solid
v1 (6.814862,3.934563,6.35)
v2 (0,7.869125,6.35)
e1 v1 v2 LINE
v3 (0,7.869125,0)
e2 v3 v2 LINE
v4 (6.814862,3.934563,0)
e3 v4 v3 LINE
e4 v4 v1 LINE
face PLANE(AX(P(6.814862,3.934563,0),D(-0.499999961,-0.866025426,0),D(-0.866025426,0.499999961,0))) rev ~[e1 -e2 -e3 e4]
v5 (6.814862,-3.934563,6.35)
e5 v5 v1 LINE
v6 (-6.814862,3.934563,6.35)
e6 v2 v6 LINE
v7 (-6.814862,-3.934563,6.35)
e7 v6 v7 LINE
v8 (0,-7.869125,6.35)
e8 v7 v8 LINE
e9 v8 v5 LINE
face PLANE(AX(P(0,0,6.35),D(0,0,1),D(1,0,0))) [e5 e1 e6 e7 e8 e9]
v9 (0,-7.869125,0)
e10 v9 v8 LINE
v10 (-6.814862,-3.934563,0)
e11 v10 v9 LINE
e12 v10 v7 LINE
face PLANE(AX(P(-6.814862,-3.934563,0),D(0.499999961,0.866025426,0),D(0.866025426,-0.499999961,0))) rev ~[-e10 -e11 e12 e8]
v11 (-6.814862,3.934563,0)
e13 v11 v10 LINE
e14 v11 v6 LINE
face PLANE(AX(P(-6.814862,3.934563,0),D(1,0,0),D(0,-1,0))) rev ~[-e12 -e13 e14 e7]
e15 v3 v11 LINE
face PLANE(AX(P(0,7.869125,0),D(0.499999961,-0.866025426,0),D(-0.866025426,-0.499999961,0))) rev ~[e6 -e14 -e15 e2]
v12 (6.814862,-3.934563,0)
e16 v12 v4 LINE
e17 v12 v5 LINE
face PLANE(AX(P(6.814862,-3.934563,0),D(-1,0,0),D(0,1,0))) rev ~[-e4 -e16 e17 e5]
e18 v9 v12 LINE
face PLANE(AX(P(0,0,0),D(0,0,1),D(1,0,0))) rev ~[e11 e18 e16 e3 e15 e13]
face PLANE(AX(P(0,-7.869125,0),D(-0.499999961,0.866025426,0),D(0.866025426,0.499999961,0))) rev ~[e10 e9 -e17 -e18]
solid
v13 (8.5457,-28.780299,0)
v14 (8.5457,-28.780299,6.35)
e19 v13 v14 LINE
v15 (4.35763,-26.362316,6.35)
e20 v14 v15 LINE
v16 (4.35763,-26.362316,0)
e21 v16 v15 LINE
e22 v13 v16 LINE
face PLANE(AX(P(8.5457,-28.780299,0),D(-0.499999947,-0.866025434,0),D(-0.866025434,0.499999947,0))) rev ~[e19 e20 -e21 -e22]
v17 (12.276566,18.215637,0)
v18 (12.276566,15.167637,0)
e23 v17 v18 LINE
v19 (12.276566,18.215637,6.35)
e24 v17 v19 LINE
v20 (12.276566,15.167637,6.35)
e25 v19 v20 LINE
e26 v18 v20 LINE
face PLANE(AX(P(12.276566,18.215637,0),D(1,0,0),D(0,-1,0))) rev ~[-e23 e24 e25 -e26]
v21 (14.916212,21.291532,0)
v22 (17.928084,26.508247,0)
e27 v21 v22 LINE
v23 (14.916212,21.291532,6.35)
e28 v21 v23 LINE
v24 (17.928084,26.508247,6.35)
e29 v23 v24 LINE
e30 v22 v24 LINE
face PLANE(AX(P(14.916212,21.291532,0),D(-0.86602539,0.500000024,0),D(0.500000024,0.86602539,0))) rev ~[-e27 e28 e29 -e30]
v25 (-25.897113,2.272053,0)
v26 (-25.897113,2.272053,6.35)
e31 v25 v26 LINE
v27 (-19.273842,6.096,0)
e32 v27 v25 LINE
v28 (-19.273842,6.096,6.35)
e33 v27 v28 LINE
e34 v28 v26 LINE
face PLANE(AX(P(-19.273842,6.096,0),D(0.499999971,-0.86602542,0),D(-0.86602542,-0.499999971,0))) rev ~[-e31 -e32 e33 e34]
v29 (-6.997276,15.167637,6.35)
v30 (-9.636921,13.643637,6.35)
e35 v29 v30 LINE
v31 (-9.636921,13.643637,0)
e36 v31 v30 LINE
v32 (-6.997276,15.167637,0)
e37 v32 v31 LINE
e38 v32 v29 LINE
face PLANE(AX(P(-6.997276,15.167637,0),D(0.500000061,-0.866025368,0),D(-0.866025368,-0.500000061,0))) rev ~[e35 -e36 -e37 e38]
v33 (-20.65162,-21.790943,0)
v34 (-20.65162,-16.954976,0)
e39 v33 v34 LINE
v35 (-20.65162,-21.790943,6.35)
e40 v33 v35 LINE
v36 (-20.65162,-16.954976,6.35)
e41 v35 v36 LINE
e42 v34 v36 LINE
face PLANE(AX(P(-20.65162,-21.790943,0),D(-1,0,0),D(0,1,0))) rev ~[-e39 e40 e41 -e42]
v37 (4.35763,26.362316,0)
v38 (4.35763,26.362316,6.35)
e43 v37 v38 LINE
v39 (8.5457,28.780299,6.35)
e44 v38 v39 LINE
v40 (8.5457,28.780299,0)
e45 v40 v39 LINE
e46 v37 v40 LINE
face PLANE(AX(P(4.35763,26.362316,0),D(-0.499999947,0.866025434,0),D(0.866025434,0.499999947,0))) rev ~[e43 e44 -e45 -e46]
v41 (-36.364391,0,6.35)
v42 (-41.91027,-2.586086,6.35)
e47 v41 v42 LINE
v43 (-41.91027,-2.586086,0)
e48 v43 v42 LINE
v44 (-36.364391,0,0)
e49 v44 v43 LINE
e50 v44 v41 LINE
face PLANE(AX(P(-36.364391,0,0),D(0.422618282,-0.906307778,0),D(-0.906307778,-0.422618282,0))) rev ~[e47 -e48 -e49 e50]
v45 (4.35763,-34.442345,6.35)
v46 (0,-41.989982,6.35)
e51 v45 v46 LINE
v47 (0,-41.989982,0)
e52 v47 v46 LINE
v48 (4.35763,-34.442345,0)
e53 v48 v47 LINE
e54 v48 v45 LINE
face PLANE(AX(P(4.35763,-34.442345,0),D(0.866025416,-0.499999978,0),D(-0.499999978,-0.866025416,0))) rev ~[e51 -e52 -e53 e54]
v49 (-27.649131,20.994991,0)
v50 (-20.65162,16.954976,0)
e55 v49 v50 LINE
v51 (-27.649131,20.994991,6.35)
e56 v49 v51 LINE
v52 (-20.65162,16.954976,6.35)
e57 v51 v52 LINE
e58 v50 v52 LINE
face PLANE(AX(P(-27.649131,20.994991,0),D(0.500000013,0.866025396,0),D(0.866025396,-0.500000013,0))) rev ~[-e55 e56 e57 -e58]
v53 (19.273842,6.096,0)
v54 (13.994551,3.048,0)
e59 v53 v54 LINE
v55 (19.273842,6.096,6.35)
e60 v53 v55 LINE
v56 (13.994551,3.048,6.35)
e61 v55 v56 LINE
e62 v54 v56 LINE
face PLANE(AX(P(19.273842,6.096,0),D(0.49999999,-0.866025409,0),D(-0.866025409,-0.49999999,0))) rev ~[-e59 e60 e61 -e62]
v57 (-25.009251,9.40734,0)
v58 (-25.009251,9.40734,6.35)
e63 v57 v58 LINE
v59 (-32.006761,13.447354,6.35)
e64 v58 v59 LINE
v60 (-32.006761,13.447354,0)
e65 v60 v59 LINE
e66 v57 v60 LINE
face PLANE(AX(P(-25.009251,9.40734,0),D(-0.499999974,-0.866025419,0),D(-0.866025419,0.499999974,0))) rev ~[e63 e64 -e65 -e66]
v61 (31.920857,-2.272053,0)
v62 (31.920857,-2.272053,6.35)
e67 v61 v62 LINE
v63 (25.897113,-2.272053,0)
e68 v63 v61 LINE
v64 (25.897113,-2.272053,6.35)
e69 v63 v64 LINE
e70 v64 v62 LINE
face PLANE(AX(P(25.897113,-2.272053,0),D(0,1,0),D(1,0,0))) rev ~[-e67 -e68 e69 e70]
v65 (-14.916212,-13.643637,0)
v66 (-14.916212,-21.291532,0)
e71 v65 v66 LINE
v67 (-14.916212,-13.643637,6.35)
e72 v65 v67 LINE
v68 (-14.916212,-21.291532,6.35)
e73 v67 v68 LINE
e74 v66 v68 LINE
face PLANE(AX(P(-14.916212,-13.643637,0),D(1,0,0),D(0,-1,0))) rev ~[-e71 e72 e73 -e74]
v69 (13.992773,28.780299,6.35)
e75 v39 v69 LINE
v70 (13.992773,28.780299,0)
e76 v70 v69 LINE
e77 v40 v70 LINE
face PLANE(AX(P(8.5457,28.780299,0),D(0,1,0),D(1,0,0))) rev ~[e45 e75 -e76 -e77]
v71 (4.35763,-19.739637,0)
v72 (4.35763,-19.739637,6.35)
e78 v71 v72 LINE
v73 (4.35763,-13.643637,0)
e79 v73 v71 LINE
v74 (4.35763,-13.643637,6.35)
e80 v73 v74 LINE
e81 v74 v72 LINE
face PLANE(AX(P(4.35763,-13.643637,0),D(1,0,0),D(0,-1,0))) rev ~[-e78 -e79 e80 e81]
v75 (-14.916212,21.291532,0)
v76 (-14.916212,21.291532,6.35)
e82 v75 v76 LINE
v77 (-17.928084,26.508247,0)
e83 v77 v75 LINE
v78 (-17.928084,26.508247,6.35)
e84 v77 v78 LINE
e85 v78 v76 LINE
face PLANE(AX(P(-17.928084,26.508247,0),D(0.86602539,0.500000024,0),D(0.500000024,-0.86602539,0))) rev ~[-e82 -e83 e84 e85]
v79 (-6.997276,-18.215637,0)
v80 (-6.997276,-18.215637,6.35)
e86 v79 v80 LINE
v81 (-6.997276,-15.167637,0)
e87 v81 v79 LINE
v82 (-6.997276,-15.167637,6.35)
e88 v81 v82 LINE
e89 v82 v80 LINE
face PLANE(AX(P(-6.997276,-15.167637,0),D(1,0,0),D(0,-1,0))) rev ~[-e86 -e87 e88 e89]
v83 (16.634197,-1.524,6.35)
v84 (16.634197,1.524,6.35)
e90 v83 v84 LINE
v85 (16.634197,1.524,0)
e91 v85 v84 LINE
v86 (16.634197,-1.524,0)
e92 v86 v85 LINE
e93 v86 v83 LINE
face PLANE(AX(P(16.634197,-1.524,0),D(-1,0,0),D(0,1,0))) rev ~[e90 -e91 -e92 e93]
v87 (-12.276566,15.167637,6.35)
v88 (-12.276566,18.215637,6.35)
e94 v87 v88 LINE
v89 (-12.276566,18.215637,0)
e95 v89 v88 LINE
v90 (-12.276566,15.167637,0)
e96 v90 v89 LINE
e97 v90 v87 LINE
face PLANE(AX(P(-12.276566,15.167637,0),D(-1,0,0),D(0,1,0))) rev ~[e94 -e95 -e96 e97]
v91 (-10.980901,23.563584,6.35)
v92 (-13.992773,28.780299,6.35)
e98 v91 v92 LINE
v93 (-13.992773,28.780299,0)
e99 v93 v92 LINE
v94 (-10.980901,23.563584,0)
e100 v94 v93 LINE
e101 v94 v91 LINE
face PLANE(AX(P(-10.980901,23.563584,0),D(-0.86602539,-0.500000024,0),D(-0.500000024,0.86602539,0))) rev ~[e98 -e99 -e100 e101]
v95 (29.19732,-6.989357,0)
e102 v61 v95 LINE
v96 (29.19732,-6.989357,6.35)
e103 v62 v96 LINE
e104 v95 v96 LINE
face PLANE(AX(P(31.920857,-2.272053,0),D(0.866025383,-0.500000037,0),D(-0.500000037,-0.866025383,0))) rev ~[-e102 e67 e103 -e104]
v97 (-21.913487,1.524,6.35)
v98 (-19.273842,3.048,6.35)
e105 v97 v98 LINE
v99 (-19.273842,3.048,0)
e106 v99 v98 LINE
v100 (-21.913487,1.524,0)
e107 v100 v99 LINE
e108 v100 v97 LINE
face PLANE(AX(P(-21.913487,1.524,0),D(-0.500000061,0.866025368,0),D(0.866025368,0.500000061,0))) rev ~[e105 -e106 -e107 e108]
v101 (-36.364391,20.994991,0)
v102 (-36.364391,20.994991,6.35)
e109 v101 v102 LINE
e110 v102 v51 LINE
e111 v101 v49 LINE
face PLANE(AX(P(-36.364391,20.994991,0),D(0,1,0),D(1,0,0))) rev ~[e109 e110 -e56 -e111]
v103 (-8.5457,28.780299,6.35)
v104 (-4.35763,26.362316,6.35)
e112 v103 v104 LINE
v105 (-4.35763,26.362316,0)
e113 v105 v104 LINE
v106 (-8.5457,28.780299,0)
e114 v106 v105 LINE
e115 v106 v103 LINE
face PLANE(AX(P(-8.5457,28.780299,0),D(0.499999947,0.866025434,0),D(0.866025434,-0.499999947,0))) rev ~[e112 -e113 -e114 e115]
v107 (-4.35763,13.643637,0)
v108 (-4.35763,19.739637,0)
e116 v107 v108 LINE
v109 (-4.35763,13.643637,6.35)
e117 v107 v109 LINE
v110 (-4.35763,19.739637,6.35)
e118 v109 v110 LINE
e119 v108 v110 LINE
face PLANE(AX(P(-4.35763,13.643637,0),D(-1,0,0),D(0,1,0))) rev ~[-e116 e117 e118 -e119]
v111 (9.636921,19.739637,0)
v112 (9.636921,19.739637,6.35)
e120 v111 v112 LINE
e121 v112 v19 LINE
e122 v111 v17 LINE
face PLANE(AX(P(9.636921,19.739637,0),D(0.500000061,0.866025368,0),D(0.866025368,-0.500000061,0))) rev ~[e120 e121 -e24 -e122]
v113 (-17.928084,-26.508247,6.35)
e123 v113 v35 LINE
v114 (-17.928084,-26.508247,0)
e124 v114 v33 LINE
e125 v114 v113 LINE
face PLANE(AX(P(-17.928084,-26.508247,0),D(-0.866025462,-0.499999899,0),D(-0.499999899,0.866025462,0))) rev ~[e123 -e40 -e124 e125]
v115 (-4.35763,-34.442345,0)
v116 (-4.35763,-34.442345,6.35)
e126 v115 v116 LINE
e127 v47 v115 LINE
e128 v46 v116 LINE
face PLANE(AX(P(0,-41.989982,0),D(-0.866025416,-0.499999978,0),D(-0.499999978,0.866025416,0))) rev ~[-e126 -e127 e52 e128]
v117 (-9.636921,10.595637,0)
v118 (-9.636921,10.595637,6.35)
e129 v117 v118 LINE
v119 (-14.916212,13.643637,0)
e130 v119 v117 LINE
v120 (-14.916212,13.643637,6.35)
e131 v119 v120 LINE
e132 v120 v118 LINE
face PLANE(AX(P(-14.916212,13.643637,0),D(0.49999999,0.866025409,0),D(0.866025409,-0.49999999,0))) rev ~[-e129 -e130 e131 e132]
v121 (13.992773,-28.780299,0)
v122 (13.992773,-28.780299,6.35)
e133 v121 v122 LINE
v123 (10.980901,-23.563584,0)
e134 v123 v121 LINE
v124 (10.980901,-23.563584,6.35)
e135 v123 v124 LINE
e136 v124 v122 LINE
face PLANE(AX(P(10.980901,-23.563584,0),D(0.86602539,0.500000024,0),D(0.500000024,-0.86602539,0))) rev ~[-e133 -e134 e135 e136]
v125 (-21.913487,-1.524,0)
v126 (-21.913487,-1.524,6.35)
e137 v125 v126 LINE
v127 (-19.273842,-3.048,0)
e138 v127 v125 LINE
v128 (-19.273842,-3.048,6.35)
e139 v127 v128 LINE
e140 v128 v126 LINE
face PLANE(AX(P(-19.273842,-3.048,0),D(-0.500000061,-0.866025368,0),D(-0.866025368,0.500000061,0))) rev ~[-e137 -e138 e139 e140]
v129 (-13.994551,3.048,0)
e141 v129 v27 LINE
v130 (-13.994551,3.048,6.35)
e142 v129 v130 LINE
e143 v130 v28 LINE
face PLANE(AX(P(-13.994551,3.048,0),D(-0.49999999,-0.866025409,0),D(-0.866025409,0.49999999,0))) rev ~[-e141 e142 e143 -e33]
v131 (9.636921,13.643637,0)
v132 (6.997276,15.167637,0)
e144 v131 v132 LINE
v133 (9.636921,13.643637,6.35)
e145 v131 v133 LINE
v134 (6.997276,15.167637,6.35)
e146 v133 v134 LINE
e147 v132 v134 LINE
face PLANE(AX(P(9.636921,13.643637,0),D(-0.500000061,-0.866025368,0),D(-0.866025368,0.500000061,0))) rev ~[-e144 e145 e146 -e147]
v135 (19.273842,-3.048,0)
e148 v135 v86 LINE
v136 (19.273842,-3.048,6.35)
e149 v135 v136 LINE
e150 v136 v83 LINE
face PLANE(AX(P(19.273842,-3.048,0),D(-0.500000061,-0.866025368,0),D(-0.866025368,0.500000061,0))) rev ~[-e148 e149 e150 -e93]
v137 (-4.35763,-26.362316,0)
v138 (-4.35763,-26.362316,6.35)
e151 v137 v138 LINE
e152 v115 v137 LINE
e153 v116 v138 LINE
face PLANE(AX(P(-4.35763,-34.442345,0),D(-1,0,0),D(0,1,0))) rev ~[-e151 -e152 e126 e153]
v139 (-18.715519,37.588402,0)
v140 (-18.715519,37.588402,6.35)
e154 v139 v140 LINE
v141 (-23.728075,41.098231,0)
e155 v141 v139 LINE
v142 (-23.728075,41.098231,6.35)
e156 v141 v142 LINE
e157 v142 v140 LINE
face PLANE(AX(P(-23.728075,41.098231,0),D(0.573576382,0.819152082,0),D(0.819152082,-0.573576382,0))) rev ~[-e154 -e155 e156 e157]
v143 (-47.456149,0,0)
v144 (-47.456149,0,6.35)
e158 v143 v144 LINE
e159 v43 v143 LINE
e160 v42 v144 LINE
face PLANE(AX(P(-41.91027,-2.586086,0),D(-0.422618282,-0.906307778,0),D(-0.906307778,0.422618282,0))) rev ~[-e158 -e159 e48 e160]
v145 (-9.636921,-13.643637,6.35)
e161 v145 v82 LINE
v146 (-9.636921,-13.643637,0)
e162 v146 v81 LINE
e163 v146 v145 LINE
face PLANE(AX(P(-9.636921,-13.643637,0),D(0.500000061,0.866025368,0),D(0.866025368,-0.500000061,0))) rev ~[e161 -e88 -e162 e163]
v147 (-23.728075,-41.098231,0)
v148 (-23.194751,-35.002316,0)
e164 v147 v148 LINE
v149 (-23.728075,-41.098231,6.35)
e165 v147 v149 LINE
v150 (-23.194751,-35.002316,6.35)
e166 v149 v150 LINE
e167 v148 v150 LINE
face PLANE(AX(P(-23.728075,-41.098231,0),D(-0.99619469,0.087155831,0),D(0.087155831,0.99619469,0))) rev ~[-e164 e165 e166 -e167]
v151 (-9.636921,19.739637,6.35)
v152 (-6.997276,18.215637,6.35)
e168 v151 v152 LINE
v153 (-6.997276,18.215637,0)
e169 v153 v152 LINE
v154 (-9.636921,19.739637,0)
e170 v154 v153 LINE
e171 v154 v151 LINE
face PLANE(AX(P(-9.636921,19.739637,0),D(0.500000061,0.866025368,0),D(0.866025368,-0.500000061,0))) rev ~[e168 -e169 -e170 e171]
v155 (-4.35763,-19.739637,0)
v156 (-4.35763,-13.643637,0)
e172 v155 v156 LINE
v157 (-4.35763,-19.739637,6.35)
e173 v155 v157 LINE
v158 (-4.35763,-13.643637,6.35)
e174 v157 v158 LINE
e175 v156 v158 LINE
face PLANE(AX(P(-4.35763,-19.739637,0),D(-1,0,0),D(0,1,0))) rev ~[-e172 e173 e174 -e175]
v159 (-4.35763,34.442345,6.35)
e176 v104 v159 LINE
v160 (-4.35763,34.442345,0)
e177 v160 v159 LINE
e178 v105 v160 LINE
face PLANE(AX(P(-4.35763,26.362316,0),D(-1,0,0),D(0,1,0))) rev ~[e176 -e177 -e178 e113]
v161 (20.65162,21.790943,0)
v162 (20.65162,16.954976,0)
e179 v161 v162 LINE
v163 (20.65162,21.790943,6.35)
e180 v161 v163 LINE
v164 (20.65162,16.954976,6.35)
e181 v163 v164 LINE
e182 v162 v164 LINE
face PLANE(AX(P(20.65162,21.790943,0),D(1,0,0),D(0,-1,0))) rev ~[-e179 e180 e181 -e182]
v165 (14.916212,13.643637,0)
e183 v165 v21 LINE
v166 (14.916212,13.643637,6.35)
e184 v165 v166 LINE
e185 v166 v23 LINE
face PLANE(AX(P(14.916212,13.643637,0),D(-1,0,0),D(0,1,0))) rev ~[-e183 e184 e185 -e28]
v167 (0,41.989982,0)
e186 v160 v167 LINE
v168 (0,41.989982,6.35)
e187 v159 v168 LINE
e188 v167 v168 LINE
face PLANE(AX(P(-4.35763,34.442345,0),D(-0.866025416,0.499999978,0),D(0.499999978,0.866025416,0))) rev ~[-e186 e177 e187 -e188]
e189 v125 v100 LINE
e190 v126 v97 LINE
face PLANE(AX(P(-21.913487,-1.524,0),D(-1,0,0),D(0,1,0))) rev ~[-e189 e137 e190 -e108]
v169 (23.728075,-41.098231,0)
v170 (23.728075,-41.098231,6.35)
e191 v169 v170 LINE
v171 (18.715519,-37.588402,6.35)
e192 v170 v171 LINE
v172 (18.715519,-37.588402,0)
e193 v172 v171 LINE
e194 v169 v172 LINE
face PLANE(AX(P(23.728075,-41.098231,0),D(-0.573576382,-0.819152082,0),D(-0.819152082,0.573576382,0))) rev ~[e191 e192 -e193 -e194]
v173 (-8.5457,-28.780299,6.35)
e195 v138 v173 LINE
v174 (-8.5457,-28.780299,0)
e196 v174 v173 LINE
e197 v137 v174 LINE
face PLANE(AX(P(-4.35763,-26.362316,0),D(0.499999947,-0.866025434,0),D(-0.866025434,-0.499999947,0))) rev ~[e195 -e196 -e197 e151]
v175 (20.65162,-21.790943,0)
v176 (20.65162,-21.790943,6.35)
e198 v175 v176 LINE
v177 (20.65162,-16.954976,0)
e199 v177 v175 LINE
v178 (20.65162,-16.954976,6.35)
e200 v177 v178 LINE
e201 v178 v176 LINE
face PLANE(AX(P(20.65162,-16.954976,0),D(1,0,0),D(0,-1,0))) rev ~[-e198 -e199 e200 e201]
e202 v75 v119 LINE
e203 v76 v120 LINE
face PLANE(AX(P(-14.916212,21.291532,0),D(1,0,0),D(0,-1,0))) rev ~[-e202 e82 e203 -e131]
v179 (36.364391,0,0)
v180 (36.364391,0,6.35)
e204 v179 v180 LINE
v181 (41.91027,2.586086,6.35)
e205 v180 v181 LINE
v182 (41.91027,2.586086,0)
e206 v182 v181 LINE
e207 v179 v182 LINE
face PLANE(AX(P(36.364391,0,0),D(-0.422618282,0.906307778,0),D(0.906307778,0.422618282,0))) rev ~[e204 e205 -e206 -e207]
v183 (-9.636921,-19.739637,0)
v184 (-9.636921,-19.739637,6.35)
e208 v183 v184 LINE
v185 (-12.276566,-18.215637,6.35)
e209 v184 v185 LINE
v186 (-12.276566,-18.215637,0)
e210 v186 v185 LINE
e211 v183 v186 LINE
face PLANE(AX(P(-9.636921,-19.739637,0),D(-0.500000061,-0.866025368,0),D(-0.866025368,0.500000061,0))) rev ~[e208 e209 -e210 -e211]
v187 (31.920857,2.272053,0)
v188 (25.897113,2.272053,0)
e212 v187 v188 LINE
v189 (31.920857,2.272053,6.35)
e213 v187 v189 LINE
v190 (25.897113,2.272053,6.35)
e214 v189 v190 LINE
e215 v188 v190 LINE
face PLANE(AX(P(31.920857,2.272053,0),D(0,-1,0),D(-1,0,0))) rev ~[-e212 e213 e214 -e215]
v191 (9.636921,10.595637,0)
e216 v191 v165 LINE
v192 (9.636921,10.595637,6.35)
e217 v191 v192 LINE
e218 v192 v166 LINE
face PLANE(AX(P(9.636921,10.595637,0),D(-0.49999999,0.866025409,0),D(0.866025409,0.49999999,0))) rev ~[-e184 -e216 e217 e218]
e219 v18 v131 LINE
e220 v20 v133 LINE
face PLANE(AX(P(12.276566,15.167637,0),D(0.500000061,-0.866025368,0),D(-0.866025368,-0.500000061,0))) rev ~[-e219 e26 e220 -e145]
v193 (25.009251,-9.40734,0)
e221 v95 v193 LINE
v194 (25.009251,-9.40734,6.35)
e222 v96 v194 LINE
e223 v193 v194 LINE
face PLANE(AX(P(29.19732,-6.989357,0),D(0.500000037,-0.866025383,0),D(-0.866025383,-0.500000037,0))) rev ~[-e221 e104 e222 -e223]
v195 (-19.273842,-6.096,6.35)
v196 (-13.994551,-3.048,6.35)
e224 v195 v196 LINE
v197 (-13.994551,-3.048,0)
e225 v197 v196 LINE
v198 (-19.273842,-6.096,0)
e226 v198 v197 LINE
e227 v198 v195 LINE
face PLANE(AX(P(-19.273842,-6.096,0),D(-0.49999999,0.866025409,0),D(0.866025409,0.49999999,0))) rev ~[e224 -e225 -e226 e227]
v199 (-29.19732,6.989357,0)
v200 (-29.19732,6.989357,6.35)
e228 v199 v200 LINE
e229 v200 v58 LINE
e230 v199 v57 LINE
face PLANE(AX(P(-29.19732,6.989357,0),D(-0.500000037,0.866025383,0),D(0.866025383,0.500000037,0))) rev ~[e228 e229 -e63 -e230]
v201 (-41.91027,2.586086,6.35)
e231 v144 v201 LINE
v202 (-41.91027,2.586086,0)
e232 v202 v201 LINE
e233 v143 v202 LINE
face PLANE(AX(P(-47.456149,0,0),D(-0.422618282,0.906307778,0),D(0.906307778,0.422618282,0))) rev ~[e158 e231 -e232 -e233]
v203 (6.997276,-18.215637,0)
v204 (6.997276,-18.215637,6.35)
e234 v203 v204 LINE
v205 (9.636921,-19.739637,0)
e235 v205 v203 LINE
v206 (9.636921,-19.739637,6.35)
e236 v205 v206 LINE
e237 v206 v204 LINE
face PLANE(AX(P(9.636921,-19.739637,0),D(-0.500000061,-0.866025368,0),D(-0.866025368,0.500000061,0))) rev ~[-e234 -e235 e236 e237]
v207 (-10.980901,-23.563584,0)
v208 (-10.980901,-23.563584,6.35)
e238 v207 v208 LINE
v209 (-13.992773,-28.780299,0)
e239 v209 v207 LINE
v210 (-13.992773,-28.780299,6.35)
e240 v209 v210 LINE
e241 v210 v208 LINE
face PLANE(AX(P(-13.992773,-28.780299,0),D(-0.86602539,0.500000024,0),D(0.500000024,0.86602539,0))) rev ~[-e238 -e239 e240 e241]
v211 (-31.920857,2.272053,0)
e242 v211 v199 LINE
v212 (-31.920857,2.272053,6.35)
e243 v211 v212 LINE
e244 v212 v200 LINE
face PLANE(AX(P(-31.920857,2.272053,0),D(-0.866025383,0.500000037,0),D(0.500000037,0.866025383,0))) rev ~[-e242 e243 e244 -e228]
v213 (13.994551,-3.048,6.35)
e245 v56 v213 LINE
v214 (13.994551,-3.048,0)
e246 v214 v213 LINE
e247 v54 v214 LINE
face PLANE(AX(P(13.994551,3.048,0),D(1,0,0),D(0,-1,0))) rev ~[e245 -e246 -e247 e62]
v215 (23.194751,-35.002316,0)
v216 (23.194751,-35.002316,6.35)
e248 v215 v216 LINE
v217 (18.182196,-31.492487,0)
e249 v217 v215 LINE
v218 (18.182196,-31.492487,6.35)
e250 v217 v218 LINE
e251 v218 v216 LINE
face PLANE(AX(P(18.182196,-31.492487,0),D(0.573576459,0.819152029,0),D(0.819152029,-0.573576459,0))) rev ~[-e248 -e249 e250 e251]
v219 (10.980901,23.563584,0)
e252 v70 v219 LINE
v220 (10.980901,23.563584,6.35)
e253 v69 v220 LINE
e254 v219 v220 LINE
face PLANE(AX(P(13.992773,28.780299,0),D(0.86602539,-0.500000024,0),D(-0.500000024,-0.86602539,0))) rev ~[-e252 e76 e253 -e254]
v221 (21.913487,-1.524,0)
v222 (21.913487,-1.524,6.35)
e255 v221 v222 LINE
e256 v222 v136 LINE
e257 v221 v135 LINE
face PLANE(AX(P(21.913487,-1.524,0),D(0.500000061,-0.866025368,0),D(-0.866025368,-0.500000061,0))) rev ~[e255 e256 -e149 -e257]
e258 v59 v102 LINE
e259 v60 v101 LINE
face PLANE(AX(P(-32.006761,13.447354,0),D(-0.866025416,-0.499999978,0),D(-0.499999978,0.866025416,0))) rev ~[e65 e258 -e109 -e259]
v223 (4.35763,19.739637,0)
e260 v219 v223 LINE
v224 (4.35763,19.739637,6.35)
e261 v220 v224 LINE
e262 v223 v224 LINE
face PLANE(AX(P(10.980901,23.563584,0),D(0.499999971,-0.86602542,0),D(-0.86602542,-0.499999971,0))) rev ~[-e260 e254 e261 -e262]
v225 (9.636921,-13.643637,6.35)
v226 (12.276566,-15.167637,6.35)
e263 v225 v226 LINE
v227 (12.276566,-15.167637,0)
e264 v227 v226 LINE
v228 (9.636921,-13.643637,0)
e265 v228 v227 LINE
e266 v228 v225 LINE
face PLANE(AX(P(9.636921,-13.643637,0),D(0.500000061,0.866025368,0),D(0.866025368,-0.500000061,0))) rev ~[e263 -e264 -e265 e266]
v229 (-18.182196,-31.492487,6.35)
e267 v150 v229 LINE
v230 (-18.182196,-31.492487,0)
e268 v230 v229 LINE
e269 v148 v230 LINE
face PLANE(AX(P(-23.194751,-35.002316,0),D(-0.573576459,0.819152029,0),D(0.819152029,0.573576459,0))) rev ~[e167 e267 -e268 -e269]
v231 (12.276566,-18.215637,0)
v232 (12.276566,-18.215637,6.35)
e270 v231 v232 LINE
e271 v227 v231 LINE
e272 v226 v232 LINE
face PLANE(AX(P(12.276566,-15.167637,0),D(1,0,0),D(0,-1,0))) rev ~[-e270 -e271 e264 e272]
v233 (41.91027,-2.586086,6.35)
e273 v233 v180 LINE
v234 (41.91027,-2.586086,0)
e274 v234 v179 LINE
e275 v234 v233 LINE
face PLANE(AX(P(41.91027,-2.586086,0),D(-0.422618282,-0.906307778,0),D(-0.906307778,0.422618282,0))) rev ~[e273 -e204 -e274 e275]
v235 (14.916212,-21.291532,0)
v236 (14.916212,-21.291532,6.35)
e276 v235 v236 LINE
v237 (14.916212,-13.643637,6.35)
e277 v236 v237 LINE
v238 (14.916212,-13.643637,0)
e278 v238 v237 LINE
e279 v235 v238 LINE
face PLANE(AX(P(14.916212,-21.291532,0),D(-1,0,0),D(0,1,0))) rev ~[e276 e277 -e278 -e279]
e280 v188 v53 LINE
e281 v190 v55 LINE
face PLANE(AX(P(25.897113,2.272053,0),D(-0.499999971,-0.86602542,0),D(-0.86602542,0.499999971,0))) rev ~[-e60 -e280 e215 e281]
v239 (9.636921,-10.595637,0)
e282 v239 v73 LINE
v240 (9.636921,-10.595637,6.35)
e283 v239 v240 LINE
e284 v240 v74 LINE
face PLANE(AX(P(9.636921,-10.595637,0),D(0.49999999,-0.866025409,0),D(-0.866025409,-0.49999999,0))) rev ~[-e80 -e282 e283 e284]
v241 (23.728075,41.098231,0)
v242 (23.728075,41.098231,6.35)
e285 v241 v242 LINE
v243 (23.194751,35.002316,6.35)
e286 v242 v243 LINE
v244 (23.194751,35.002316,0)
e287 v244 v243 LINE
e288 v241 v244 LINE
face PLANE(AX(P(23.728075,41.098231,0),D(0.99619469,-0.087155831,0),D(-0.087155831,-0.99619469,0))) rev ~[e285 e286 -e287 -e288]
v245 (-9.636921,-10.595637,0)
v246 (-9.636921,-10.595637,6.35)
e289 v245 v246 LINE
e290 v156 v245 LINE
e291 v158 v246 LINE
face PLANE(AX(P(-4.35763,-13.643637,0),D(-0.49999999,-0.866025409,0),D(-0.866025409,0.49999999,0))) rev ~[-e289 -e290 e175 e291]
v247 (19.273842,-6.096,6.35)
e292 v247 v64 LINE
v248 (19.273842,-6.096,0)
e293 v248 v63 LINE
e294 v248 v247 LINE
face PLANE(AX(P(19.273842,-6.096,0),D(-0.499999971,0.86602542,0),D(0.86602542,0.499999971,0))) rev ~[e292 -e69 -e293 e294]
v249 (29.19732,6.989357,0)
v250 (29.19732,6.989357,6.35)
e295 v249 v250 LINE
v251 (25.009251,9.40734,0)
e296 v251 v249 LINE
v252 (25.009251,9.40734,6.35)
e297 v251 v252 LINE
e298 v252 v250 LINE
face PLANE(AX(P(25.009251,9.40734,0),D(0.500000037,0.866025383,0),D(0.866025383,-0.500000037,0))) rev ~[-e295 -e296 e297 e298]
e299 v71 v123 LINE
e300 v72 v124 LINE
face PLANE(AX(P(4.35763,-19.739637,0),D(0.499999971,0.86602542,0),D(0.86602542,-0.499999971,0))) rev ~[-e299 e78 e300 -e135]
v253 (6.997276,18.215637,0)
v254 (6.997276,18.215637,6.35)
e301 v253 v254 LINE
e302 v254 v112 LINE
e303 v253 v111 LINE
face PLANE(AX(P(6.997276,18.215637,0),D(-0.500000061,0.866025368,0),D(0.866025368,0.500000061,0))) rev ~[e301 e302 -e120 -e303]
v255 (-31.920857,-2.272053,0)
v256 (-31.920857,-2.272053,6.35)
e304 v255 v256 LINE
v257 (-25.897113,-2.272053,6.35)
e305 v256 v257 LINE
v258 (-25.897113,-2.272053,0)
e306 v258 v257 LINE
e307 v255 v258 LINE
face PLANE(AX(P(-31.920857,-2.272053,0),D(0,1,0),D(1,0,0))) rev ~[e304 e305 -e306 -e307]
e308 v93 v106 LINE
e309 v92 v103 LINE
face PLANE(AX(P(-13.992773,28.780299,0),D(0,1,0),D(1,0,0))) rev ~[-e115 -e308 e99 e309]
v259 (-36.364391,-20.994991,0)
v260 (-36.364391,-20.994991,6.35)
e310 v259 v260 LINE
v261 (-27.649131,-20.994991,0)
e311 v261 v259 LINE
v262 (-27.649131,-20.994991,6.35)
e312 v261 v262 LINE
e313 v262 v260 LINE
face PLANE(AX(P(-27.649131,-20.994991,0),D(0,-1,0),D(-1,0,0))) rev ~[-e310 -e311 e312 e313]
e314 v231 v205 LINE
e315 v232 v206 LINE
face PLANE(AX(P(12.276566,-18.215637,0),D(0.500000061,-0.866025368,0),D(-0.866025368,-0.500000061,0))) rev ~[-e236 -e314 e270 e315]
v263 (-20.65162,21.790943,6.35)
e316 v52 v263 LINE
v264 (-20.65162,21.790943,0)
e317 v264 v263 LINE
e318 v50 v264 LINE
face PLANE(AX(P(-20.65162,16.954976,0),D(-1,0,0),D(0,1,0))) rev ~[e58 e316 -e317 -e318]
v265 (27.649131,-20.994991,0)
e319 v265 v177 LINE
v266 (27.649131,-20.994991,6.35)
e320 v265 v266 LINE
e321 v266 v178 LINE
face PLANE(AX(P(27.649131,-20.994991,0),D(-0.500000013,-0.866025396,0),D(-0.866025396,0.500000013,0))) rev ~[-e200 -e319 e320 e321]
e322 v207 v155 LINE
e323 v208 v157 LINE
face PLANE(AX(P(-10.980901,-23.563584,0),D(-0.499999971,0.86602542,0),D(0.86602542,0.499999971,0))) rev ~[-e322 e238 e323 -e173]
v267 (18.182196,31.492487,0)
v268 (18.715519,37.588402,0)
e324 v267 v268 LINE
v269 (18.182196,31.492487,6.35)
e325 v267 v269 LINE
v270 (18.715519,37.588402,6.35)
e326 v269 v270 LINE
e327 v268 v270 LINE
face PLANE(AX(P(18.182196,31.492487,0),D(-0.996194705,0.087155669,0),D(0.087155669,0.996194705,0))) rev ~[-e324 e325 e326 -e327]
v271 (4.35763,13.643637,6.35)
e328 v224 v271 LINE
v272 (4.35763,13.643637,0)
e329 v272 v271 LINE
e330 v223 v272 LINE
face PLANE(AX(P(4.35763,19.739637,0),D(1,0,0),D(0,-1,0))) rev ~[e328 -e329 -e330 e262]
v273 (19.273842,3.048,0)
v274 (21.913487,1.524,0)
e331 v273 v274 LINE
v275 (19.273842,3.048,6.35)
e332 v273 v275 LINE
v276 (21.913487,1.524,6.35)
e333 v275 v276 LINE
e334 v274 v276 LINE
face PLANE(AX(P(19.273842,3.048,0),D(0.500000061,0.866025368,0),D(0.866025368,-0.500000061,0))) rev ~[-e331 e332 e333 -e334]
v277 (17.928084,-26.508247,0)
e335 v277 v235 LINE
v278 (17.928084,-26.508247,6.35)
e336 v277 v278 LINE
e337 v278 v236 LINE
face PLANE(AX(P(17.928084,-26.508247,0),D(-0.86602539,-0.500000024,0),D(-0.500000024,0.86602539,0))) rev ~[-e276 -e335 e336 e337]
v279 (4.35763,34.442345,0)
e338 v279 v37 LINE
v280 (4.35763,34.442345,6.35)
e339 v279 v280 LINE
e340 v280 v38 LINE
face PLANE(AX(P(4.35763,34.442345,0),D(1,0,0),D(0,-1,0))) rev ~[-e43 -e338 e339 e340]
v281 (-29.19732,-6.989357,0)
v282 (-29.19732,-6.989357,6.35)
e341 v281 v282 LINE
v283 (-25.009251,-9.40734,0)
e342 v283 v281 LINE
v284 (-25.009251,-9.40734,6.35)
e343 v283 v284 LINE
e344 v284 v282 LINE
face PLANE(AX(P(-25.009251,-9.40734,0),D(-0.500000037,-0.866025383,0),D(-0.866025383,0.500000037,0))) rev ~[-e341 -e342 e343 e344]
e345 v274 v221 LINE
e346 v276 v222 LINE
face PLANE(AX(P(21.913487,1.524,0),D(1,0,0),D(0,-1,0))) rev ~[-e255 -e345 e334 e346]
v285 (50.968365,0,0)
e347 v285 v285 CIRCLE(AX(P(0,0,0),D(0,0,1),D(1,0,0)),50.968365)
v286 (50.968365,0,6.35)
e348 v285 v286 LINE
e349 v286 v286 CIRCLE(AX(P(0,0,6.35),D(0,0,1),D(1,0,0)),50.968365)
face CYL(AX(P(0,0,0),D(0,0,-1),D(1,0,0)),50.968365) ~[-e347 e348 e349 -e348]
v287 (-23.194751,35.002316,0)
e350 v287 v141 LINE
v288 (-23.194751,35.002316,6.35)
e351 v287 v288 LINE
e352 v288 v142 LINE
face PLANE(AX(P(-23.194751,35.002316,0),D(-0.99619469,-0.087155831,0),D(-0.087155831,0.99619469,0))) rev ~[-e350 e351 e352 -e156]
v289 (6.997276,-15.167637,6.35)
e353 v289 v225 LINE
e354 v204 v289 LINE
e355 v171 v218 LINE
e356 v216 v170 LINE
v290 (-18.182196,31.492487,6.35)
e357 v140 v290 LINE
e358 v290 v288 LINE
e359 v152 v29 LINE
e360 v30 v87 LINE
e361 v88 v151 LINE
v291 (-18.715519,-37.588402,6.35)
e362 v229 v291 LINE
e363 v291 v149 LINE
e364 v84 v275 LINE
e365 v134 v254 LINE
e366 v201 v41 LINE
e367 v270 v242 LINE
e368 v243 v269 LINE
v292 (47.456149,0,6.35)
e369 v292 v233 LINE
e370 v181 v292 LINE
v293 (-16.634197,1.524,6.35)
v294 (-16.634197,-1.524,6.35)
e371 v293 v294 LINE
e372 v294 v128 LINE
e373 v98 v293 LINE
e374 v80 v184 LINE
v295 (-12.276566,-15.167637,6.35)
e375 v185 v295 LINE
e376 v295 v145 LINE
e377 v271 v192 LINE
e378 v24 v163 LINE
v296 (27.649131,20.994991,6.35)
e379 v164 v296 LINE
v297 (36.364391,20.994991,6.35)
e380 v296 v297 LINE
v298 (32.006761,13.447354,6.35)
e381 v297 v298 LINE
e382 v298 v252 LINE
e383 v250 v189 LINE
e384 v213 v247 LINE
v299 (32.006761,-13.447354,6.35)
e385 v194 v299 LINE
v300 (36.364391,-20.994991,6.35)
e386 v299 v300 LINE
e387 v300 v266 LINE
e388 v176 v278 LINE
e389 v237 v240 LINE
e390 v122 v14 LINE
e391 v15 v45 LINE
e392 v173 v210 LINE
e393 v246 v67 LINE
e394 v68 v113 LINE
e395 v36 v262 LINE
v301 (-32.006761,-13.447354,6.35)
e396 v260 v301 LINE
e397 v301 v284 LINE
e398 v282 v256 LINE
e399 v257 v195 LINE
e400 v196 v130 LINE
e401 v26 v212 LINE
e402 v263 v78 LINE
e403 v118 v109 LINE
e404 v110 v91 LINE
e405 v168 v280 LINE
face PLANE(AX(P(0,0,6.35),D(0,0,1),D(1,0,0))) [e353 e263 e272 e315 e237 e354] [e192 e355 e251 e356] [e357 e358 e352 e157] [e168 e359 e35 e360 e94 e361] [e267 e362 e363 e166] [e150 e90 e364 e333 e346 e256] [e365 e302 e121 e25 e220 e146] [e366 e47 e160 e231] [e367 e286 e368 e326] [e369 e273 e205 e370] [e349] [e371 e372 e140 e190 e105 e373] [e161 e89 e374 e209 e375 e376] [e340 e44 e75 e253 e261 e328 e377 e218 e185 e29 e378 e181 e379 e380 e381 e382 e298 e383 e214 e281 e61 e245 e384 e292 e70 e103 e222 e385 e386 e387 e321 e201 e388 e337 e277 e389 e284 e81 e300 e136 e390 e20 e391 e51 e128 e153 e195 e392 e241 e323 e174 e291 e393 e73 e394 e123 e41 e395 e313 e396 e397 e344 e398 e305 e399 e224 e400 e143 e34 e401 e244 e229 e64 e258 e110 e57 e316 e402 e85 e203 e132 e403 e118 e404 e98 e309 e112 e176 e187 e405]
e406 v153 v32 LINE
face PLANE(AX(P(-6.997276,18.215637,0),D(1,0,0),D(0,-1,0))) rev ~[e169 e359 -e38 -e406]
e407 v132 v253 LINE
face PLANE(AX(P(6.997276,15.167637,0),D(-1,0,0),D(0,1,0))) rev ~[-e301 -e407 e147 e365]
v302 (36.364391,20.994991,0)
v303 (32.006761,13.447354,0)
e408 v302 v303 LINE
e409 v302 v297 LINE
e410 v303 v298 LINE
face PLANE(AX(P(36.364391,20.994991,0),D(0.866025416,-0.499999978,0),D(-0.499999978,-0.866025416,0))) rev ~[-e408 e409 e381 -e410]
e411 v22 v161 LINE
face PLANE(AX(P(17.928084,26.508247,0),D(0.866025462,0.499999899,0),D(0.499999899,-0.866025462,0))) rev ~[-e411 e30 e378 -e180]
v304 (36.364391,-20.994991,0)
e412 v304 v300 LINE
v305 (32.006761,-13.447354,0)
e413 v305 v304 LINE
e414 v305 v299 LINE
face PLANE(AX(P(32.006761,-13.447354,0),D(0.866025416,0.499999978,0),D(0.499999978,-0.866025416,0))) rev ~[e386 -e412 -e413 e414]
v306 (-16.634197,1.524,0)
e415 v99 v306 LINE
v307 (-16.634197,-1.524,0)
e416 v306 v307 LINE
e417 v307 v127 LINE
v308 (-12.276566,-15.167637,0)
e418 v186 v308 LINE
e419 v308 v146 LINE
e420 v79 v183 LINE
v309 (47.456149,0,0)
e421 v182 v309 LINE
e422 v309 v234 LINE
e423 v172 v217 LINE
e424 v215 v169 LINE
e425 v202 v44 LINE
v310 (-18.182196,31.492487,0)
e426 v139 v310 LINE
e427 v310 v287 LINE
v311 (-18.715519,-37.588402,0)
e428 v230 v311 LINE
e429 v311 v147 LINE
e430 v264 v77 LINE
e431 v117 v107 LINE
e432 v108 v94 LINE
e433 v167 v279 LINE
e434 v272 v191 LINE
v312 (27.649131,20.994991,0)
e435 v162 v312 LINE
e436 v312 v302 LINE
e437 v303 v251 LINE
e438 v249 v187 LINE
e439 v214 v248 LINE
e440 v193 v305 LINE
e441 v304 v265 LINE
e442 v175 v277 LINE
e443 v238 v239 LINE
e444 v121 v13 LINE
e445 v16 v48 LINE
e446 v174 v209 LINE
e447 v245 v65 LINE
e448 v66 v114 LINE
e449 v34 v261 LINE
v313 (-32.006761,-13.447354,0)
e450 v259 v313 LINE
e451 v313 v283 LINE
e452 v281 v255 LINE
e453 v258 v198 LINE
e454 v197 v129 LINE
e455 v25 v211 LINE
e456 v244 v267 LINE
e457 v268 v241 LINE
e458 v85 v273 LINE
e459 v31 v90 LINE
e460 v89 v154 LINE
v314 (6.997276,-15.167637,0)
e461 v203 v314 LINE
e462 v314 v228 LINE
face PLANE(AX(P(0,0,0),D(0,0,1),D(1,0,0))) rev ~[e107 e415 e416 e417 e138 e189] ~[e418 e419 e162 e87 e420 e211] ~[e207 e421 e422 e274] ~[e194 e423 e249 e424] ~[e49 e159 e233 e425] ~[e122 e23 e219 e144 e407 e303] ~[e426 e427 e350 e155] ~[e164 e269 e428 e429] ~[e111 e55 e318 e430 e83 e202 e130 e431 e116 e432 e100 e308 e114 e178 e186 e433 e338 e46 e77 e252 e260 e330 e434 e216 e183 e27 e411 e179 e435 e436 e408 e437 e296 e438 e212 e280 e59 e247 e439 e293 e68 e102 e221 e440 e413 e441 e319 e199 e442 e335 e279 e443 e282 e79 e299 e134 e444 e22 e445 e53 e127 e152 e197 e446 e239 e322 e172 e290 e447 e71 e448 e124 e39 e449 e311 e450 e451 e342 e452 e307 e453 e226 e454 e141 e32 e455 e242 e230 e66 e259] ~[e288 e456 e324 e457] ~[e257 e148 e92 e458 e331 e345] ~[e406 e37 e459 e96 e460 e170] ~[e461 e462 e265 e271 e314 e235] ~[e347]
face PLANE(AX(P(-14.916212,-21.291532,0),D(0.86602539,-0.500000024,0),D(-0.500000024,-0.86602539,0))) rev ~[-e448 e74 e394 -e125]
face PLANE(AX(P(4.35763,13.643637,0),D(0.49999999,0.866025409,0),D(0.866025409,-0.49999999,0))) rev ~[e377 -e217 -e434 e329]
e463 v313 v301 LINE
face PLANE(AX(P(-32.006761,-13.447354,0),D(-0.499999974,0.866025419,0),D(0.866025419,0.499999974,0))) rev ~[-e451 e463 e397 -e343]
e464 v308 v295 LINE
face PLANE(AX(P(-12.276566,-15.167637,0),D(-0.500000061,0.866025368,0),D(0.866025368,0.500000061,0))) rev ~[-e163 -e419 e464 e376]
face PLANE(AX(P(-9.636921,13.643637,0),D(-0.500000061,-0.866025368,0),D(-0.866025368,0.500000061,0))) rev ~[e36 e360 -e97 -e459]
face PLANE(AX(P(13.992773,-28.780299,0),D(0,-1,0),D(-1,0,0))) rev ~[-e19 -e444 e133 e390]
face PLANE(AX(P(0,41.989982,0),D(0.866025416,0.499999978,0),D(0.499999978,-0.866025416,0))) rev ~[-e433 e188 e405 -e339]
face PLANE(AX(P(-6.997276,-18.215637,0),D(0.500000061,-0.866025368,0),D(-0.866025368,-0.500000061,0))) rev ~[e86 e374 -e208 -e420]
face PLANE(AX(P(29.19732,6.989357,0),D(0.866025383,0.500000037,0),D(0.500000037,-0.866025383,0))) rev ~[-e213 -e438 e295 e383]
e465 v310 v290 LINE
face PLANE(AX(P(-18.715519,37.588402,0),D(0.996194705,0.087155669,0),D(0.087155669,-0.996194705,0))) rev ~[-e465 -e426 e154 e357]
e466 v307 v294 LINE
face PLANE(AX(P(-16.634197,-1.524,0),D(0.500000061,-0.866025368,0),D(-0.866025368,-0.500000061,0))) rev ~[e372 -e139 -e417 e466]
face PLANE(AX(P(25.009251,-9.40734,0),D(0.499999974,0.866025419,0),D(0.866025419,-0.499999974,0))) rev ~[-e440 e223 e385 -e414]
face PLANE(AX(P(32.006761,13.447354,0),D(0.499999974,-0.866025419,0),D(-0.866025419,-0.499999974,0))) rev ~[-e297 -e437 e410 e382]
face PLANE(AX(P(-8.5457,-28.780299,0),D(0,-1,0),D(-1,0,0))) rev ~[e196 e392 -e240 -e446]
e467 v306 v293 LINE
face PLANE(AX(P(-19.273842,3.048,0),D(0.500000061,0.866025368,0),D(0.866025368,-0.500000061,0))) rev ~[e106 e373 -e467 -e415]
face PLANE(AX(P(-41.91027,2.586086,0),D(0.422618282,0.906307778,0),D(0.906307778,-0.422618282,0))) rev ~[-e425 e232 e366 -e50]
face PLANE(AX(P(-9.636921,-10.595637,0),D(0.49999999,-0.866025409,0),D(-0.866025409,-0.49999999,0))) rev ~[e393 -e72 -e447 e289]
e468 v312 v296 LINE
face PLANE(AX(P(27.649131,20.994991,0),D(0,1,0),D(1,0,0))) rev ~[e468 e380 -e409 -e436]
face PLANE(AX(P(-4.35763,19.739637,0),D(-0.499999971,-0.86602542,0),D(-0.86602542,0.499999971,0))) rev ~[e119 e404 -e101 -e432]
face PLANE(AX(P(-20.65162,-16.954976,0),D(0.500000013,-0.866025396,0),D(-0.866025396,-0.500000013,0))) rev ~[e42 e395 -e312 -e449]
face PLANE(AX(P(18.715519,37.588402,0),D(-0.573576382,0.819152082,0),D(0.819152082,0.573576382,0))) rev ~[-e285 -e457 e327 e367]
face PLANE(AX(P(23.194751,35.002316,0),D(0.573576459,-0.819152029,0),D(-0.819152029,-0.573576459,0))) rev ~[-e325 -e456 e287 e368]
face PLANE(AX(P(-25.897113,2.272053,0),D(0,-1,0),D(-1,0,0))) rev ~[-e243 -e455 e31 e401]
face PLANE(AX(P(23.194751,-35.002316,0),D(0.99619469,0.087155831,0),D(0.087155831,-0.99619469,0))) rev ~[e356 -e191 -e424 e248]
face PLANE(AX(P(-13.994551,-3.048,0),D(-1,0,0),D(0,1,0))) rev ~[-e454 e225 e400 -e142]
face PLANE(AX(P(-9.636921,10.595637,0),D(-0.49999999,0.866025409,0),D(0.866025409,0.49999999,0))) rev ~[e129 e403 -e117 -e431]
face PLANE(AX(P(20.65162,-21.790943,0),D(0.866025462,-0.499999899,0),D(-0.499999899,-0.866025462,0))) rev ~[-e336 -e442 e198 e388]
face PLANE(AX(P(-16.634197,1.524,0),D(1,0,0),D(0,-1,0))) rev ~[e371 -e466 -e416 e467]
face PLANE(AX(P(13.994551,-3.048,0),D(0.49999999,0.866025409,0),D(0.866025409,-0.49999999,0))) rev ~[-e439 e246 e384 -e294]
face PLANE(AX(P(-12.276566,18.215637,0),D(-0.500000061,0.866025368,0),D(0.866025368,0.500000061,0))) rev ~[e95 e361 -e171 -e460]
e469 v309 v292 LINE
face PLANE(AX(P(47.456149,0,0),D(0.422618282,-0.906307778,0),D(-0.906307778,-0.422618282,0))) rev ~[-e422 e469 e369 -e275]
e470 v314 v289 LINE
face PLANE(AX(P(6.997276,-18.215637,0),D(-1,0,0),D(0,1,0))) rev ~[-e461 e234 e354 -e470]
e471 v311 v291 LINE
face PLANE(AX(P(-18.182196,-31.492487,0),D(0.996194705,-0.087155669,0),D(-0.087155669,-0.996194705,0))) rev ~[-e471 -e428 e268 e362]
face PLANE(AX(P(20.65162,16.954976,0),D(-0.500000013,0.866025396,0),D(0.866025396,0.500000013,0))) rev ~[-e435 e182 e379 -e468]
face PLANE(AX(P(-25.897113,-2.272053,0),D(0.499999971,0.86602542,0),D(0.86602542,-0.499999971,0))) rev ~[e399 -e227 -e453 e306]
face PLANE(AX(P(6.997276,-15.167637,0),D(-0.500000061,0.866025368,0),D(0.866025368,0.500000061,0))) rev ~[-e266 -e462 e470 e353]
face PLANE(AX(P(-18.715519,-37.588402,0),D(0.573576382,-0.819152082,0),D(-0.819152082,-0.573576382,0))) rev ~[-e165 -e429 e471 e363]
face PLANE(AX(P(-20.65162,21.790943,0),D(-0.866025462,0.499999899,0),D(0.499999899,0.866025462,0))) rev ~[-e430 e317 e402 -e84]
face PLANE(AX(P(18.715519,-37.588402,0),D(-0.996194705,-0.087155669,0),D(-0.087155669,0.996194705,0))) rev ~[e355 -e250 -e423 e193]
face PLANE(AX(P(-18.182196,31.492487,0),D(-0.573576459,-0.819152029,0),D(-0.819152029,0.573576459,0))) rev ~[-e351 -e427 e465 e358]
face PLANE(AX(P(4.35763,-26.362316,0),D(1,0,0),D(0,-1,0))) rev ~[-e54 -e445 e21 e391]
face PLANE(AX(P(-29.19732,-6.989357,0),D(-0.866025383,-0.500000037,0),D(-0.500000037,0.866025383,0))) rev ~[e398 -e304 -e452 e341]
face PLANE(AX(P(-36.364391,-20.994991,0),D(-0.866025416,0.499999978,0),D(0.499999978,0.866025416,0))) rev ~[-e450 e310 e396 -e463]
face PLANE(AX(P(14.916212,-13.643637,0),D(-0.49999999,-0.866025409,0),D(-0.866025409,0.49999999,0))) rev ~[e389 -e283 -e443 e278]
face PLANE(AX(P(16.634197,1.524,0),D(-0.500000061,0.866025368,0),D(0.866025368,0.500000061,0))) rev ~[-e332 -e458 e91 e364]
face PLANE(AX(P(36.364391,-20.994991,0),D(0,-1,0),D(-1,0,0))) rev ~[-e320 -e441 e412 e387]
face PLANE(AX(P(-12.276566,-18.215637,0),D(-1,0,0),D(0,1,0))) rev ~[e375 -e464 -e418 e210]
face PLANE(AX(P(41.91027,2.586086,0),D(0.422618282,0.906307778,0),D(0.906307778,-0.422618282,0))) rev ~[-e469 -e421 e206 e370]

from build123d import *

# Parameters (mm, degrees)
F0_R     = 50.968365
F1_DEPTH = 6.35


with BuildPart() as f1:
    # F0 (on Top) → F1 (new body)
    with BuildSketch(Plane.XY):
        Circle(F0_R)
        Polygon((-23.194751, -35.002316), (-18.182196, -31.492487), (-18.715519, -37.588402), (-23.728075, -41.098231), align=None, mode=Mode.SUBTRACT)
        Polygon((-41.91027, 2.586086), (-36.364391, 0), (-41.91027, -2.586086), (-47.456149, 0), align=None, mode=Mode.SUBTRACT)
        Polygon((-12.276566, -15.167637), (-9.636921, -13.643637), (-6.997276, -15.167637), (-6.997276, -18.215637), (-9.636921, -19.739637), (-12.276566, -18.215637), align=None, mode=Mode.SUBTRACT)
        Polygon((-19.273842, -3.048), (-21.913487, -1.524), (-21.913487, 1.524), (-19.273842, 3.048), (-16.634197, 1.524), (-16.634197, -1.524), align=None, mode=Mode.SUBTRACT)
        Polygon((-4.35763, 34.442345), (0, 41.989982), (4.35763, 34.442345), (4.35763, 26.362316), (8.5457, 28.780299), (13.992773, 28.780299), (10.980901, 23.563584), (4.35763, 19.739637), (4.35763, 13.643637), (9.636921, 10.595637), (14.916212, 13.643637), (14.916212, 21.291532), (17.928084, 26.508247), (20.65162, 21.790943), (20.65162, 16.954976), (27.649131, 20.994991), (36.364391, 20.994991), (32.006761, 13.447354), (25.009251, 9.40734), (29.19732, 6.989357), (31.920857, 2.272053), (25.897113, 2.272053), (19.273842, 6.096), (13.994551, 3.048), (13.994551, -3.048), (19.273842, -6.096), (25.897113, -2.272053), (31.920857, -2.272053), (29.19732, -6.989357), (25.009251, -9.40734), (32.006761, -13.447354), (36.364391, -20.994991), (27.649131, -20.994991), (20.65162, -16.954976), (20.65162, -21.790943), (17.928084, -26.508247), (14.916212, -21.291532), (14.916212, -13.643637), (9.636921, -10.595637), (4.35763, -13.643637), (4.35763, -19.739637), (10.980901, -23.563584), (13.992773, -28.780299), (8.5457, -28.780299), (4.35763, -26.362316), (4.35763, -34.442345), (0, -41.989982), (-4.35763, -34.442345), (-4.35763, -26.362316), (-8.5457, -28.780299), (-13.992773, -28.780299), (-10.980901, -23.563584), (-4.35763, -19.739637), (-4.35763, -13.643637), (-9.636921, -10.595637), (-14.916212, -13.643637), (-14.916212, -21.291532), (-17.928084, -26.508247), (-20.65162, -21.790943), (-20.65162, -16.954976), (-27.649131, -20.994991), (-36.364391, -20.994991), (-32.006761, -13.447354), (-25.009251, -9.40734), (-29.19732, -6.989357), (-31.920857, -2.272053), (-25.897113, -2.272053), (-19.273842, -6.096), (-13.994551, -3.048), (-13.994551, 3.048), (-19.273842, 6.096), (-25.897113, 2.272053), (-31.920857, 2.272053), (-29.19732, 6.989357), (-25.009251, 9.40734), (-32.006761, 13.447354), (-36.364391, 20.994991), (-27.649131, 20.994991), (-20.65162, 16.954976), (-20.65162, 21.790943), (-17.928084, 26.508247), (-14.916212, 21.291532), (-14.916212, 13.643637), (-9.636921, 10.595637), (-4.35763, 13.643637), (-4.35763, 19.739637), (-10.980901, 23.563584), (-13.992773, 28.780299), (-8.5457, 28.780299), (-4.35763, 26.362316), align=None, mode=Mode.SUBTRACT)
        Polygon((18.182196, -31.492487), (23.194751, -35.002316), (23.728075, -41.098231), (18.715519, -37.588402), align=None, mode=Mode.SUBTRACT)
        Polygon((12.276566, -15.167637), (12.276566, -18.215637), (9.636921, -19.739637), (6.997276, -18.215637), (6.997276, -15.167637), (9.636921, -13.643637), align=None, mode=Mode.SUBTRACT)
        Polygon((16.634197, 1.524), (19.273842, 3.048), (21.913487, 1.524), (21.913487, -1.524), (19.273842, -3.048), (16.634197, -1.524), align=None, mode=Mode.SUBTRACT)
        Polygon((-9.636921, 19.739637), (-6.997276, 18.215637), (-6.997276, 15.167637), (-9.636921, 13.643637), (-12.276566, 15.167637), (-12.276566, 18.215637), align=None, mode=Mode.SUBTRACT)
        Polygon((-23.194751, 35.002316), (-23.728075, 41.098231), (-18.715519, 37.588402), (-18.182196, 31.492487), align=None, mode=Mode.SUBTRACT)
        Polygon((6.997276, 18.215637), (9.636921, 19.739637), (12.276566, 18.215637), (12.276566, 15.167637), (9.636921, 13.643637), (6.997276, 15.167637), align=None, mode=Mode.SUBTRACT)
        Polygon((47.456149, 0), (41.91027, -2.586086), (36.364391, 0), (41.91027, 2.586086), align=None, mode=Mode.SUBTRACT)
        Polygon((23.728075, 41.098231), (23.194751, 35.002316), (18.182196, 31.492487), (18.715519, 37.588402), align=None, mode=Mode.SUBTRACT)
        Polygon((6.814862, 3.934563), (0, 7.869125), (-6.814862, 3.934563), (-6.814862, -3.934563), (0, -7.869125), (6.814862, -3.934563), align=None)
    extrude(amount=F1_DEPTH)


solid = f1.part
